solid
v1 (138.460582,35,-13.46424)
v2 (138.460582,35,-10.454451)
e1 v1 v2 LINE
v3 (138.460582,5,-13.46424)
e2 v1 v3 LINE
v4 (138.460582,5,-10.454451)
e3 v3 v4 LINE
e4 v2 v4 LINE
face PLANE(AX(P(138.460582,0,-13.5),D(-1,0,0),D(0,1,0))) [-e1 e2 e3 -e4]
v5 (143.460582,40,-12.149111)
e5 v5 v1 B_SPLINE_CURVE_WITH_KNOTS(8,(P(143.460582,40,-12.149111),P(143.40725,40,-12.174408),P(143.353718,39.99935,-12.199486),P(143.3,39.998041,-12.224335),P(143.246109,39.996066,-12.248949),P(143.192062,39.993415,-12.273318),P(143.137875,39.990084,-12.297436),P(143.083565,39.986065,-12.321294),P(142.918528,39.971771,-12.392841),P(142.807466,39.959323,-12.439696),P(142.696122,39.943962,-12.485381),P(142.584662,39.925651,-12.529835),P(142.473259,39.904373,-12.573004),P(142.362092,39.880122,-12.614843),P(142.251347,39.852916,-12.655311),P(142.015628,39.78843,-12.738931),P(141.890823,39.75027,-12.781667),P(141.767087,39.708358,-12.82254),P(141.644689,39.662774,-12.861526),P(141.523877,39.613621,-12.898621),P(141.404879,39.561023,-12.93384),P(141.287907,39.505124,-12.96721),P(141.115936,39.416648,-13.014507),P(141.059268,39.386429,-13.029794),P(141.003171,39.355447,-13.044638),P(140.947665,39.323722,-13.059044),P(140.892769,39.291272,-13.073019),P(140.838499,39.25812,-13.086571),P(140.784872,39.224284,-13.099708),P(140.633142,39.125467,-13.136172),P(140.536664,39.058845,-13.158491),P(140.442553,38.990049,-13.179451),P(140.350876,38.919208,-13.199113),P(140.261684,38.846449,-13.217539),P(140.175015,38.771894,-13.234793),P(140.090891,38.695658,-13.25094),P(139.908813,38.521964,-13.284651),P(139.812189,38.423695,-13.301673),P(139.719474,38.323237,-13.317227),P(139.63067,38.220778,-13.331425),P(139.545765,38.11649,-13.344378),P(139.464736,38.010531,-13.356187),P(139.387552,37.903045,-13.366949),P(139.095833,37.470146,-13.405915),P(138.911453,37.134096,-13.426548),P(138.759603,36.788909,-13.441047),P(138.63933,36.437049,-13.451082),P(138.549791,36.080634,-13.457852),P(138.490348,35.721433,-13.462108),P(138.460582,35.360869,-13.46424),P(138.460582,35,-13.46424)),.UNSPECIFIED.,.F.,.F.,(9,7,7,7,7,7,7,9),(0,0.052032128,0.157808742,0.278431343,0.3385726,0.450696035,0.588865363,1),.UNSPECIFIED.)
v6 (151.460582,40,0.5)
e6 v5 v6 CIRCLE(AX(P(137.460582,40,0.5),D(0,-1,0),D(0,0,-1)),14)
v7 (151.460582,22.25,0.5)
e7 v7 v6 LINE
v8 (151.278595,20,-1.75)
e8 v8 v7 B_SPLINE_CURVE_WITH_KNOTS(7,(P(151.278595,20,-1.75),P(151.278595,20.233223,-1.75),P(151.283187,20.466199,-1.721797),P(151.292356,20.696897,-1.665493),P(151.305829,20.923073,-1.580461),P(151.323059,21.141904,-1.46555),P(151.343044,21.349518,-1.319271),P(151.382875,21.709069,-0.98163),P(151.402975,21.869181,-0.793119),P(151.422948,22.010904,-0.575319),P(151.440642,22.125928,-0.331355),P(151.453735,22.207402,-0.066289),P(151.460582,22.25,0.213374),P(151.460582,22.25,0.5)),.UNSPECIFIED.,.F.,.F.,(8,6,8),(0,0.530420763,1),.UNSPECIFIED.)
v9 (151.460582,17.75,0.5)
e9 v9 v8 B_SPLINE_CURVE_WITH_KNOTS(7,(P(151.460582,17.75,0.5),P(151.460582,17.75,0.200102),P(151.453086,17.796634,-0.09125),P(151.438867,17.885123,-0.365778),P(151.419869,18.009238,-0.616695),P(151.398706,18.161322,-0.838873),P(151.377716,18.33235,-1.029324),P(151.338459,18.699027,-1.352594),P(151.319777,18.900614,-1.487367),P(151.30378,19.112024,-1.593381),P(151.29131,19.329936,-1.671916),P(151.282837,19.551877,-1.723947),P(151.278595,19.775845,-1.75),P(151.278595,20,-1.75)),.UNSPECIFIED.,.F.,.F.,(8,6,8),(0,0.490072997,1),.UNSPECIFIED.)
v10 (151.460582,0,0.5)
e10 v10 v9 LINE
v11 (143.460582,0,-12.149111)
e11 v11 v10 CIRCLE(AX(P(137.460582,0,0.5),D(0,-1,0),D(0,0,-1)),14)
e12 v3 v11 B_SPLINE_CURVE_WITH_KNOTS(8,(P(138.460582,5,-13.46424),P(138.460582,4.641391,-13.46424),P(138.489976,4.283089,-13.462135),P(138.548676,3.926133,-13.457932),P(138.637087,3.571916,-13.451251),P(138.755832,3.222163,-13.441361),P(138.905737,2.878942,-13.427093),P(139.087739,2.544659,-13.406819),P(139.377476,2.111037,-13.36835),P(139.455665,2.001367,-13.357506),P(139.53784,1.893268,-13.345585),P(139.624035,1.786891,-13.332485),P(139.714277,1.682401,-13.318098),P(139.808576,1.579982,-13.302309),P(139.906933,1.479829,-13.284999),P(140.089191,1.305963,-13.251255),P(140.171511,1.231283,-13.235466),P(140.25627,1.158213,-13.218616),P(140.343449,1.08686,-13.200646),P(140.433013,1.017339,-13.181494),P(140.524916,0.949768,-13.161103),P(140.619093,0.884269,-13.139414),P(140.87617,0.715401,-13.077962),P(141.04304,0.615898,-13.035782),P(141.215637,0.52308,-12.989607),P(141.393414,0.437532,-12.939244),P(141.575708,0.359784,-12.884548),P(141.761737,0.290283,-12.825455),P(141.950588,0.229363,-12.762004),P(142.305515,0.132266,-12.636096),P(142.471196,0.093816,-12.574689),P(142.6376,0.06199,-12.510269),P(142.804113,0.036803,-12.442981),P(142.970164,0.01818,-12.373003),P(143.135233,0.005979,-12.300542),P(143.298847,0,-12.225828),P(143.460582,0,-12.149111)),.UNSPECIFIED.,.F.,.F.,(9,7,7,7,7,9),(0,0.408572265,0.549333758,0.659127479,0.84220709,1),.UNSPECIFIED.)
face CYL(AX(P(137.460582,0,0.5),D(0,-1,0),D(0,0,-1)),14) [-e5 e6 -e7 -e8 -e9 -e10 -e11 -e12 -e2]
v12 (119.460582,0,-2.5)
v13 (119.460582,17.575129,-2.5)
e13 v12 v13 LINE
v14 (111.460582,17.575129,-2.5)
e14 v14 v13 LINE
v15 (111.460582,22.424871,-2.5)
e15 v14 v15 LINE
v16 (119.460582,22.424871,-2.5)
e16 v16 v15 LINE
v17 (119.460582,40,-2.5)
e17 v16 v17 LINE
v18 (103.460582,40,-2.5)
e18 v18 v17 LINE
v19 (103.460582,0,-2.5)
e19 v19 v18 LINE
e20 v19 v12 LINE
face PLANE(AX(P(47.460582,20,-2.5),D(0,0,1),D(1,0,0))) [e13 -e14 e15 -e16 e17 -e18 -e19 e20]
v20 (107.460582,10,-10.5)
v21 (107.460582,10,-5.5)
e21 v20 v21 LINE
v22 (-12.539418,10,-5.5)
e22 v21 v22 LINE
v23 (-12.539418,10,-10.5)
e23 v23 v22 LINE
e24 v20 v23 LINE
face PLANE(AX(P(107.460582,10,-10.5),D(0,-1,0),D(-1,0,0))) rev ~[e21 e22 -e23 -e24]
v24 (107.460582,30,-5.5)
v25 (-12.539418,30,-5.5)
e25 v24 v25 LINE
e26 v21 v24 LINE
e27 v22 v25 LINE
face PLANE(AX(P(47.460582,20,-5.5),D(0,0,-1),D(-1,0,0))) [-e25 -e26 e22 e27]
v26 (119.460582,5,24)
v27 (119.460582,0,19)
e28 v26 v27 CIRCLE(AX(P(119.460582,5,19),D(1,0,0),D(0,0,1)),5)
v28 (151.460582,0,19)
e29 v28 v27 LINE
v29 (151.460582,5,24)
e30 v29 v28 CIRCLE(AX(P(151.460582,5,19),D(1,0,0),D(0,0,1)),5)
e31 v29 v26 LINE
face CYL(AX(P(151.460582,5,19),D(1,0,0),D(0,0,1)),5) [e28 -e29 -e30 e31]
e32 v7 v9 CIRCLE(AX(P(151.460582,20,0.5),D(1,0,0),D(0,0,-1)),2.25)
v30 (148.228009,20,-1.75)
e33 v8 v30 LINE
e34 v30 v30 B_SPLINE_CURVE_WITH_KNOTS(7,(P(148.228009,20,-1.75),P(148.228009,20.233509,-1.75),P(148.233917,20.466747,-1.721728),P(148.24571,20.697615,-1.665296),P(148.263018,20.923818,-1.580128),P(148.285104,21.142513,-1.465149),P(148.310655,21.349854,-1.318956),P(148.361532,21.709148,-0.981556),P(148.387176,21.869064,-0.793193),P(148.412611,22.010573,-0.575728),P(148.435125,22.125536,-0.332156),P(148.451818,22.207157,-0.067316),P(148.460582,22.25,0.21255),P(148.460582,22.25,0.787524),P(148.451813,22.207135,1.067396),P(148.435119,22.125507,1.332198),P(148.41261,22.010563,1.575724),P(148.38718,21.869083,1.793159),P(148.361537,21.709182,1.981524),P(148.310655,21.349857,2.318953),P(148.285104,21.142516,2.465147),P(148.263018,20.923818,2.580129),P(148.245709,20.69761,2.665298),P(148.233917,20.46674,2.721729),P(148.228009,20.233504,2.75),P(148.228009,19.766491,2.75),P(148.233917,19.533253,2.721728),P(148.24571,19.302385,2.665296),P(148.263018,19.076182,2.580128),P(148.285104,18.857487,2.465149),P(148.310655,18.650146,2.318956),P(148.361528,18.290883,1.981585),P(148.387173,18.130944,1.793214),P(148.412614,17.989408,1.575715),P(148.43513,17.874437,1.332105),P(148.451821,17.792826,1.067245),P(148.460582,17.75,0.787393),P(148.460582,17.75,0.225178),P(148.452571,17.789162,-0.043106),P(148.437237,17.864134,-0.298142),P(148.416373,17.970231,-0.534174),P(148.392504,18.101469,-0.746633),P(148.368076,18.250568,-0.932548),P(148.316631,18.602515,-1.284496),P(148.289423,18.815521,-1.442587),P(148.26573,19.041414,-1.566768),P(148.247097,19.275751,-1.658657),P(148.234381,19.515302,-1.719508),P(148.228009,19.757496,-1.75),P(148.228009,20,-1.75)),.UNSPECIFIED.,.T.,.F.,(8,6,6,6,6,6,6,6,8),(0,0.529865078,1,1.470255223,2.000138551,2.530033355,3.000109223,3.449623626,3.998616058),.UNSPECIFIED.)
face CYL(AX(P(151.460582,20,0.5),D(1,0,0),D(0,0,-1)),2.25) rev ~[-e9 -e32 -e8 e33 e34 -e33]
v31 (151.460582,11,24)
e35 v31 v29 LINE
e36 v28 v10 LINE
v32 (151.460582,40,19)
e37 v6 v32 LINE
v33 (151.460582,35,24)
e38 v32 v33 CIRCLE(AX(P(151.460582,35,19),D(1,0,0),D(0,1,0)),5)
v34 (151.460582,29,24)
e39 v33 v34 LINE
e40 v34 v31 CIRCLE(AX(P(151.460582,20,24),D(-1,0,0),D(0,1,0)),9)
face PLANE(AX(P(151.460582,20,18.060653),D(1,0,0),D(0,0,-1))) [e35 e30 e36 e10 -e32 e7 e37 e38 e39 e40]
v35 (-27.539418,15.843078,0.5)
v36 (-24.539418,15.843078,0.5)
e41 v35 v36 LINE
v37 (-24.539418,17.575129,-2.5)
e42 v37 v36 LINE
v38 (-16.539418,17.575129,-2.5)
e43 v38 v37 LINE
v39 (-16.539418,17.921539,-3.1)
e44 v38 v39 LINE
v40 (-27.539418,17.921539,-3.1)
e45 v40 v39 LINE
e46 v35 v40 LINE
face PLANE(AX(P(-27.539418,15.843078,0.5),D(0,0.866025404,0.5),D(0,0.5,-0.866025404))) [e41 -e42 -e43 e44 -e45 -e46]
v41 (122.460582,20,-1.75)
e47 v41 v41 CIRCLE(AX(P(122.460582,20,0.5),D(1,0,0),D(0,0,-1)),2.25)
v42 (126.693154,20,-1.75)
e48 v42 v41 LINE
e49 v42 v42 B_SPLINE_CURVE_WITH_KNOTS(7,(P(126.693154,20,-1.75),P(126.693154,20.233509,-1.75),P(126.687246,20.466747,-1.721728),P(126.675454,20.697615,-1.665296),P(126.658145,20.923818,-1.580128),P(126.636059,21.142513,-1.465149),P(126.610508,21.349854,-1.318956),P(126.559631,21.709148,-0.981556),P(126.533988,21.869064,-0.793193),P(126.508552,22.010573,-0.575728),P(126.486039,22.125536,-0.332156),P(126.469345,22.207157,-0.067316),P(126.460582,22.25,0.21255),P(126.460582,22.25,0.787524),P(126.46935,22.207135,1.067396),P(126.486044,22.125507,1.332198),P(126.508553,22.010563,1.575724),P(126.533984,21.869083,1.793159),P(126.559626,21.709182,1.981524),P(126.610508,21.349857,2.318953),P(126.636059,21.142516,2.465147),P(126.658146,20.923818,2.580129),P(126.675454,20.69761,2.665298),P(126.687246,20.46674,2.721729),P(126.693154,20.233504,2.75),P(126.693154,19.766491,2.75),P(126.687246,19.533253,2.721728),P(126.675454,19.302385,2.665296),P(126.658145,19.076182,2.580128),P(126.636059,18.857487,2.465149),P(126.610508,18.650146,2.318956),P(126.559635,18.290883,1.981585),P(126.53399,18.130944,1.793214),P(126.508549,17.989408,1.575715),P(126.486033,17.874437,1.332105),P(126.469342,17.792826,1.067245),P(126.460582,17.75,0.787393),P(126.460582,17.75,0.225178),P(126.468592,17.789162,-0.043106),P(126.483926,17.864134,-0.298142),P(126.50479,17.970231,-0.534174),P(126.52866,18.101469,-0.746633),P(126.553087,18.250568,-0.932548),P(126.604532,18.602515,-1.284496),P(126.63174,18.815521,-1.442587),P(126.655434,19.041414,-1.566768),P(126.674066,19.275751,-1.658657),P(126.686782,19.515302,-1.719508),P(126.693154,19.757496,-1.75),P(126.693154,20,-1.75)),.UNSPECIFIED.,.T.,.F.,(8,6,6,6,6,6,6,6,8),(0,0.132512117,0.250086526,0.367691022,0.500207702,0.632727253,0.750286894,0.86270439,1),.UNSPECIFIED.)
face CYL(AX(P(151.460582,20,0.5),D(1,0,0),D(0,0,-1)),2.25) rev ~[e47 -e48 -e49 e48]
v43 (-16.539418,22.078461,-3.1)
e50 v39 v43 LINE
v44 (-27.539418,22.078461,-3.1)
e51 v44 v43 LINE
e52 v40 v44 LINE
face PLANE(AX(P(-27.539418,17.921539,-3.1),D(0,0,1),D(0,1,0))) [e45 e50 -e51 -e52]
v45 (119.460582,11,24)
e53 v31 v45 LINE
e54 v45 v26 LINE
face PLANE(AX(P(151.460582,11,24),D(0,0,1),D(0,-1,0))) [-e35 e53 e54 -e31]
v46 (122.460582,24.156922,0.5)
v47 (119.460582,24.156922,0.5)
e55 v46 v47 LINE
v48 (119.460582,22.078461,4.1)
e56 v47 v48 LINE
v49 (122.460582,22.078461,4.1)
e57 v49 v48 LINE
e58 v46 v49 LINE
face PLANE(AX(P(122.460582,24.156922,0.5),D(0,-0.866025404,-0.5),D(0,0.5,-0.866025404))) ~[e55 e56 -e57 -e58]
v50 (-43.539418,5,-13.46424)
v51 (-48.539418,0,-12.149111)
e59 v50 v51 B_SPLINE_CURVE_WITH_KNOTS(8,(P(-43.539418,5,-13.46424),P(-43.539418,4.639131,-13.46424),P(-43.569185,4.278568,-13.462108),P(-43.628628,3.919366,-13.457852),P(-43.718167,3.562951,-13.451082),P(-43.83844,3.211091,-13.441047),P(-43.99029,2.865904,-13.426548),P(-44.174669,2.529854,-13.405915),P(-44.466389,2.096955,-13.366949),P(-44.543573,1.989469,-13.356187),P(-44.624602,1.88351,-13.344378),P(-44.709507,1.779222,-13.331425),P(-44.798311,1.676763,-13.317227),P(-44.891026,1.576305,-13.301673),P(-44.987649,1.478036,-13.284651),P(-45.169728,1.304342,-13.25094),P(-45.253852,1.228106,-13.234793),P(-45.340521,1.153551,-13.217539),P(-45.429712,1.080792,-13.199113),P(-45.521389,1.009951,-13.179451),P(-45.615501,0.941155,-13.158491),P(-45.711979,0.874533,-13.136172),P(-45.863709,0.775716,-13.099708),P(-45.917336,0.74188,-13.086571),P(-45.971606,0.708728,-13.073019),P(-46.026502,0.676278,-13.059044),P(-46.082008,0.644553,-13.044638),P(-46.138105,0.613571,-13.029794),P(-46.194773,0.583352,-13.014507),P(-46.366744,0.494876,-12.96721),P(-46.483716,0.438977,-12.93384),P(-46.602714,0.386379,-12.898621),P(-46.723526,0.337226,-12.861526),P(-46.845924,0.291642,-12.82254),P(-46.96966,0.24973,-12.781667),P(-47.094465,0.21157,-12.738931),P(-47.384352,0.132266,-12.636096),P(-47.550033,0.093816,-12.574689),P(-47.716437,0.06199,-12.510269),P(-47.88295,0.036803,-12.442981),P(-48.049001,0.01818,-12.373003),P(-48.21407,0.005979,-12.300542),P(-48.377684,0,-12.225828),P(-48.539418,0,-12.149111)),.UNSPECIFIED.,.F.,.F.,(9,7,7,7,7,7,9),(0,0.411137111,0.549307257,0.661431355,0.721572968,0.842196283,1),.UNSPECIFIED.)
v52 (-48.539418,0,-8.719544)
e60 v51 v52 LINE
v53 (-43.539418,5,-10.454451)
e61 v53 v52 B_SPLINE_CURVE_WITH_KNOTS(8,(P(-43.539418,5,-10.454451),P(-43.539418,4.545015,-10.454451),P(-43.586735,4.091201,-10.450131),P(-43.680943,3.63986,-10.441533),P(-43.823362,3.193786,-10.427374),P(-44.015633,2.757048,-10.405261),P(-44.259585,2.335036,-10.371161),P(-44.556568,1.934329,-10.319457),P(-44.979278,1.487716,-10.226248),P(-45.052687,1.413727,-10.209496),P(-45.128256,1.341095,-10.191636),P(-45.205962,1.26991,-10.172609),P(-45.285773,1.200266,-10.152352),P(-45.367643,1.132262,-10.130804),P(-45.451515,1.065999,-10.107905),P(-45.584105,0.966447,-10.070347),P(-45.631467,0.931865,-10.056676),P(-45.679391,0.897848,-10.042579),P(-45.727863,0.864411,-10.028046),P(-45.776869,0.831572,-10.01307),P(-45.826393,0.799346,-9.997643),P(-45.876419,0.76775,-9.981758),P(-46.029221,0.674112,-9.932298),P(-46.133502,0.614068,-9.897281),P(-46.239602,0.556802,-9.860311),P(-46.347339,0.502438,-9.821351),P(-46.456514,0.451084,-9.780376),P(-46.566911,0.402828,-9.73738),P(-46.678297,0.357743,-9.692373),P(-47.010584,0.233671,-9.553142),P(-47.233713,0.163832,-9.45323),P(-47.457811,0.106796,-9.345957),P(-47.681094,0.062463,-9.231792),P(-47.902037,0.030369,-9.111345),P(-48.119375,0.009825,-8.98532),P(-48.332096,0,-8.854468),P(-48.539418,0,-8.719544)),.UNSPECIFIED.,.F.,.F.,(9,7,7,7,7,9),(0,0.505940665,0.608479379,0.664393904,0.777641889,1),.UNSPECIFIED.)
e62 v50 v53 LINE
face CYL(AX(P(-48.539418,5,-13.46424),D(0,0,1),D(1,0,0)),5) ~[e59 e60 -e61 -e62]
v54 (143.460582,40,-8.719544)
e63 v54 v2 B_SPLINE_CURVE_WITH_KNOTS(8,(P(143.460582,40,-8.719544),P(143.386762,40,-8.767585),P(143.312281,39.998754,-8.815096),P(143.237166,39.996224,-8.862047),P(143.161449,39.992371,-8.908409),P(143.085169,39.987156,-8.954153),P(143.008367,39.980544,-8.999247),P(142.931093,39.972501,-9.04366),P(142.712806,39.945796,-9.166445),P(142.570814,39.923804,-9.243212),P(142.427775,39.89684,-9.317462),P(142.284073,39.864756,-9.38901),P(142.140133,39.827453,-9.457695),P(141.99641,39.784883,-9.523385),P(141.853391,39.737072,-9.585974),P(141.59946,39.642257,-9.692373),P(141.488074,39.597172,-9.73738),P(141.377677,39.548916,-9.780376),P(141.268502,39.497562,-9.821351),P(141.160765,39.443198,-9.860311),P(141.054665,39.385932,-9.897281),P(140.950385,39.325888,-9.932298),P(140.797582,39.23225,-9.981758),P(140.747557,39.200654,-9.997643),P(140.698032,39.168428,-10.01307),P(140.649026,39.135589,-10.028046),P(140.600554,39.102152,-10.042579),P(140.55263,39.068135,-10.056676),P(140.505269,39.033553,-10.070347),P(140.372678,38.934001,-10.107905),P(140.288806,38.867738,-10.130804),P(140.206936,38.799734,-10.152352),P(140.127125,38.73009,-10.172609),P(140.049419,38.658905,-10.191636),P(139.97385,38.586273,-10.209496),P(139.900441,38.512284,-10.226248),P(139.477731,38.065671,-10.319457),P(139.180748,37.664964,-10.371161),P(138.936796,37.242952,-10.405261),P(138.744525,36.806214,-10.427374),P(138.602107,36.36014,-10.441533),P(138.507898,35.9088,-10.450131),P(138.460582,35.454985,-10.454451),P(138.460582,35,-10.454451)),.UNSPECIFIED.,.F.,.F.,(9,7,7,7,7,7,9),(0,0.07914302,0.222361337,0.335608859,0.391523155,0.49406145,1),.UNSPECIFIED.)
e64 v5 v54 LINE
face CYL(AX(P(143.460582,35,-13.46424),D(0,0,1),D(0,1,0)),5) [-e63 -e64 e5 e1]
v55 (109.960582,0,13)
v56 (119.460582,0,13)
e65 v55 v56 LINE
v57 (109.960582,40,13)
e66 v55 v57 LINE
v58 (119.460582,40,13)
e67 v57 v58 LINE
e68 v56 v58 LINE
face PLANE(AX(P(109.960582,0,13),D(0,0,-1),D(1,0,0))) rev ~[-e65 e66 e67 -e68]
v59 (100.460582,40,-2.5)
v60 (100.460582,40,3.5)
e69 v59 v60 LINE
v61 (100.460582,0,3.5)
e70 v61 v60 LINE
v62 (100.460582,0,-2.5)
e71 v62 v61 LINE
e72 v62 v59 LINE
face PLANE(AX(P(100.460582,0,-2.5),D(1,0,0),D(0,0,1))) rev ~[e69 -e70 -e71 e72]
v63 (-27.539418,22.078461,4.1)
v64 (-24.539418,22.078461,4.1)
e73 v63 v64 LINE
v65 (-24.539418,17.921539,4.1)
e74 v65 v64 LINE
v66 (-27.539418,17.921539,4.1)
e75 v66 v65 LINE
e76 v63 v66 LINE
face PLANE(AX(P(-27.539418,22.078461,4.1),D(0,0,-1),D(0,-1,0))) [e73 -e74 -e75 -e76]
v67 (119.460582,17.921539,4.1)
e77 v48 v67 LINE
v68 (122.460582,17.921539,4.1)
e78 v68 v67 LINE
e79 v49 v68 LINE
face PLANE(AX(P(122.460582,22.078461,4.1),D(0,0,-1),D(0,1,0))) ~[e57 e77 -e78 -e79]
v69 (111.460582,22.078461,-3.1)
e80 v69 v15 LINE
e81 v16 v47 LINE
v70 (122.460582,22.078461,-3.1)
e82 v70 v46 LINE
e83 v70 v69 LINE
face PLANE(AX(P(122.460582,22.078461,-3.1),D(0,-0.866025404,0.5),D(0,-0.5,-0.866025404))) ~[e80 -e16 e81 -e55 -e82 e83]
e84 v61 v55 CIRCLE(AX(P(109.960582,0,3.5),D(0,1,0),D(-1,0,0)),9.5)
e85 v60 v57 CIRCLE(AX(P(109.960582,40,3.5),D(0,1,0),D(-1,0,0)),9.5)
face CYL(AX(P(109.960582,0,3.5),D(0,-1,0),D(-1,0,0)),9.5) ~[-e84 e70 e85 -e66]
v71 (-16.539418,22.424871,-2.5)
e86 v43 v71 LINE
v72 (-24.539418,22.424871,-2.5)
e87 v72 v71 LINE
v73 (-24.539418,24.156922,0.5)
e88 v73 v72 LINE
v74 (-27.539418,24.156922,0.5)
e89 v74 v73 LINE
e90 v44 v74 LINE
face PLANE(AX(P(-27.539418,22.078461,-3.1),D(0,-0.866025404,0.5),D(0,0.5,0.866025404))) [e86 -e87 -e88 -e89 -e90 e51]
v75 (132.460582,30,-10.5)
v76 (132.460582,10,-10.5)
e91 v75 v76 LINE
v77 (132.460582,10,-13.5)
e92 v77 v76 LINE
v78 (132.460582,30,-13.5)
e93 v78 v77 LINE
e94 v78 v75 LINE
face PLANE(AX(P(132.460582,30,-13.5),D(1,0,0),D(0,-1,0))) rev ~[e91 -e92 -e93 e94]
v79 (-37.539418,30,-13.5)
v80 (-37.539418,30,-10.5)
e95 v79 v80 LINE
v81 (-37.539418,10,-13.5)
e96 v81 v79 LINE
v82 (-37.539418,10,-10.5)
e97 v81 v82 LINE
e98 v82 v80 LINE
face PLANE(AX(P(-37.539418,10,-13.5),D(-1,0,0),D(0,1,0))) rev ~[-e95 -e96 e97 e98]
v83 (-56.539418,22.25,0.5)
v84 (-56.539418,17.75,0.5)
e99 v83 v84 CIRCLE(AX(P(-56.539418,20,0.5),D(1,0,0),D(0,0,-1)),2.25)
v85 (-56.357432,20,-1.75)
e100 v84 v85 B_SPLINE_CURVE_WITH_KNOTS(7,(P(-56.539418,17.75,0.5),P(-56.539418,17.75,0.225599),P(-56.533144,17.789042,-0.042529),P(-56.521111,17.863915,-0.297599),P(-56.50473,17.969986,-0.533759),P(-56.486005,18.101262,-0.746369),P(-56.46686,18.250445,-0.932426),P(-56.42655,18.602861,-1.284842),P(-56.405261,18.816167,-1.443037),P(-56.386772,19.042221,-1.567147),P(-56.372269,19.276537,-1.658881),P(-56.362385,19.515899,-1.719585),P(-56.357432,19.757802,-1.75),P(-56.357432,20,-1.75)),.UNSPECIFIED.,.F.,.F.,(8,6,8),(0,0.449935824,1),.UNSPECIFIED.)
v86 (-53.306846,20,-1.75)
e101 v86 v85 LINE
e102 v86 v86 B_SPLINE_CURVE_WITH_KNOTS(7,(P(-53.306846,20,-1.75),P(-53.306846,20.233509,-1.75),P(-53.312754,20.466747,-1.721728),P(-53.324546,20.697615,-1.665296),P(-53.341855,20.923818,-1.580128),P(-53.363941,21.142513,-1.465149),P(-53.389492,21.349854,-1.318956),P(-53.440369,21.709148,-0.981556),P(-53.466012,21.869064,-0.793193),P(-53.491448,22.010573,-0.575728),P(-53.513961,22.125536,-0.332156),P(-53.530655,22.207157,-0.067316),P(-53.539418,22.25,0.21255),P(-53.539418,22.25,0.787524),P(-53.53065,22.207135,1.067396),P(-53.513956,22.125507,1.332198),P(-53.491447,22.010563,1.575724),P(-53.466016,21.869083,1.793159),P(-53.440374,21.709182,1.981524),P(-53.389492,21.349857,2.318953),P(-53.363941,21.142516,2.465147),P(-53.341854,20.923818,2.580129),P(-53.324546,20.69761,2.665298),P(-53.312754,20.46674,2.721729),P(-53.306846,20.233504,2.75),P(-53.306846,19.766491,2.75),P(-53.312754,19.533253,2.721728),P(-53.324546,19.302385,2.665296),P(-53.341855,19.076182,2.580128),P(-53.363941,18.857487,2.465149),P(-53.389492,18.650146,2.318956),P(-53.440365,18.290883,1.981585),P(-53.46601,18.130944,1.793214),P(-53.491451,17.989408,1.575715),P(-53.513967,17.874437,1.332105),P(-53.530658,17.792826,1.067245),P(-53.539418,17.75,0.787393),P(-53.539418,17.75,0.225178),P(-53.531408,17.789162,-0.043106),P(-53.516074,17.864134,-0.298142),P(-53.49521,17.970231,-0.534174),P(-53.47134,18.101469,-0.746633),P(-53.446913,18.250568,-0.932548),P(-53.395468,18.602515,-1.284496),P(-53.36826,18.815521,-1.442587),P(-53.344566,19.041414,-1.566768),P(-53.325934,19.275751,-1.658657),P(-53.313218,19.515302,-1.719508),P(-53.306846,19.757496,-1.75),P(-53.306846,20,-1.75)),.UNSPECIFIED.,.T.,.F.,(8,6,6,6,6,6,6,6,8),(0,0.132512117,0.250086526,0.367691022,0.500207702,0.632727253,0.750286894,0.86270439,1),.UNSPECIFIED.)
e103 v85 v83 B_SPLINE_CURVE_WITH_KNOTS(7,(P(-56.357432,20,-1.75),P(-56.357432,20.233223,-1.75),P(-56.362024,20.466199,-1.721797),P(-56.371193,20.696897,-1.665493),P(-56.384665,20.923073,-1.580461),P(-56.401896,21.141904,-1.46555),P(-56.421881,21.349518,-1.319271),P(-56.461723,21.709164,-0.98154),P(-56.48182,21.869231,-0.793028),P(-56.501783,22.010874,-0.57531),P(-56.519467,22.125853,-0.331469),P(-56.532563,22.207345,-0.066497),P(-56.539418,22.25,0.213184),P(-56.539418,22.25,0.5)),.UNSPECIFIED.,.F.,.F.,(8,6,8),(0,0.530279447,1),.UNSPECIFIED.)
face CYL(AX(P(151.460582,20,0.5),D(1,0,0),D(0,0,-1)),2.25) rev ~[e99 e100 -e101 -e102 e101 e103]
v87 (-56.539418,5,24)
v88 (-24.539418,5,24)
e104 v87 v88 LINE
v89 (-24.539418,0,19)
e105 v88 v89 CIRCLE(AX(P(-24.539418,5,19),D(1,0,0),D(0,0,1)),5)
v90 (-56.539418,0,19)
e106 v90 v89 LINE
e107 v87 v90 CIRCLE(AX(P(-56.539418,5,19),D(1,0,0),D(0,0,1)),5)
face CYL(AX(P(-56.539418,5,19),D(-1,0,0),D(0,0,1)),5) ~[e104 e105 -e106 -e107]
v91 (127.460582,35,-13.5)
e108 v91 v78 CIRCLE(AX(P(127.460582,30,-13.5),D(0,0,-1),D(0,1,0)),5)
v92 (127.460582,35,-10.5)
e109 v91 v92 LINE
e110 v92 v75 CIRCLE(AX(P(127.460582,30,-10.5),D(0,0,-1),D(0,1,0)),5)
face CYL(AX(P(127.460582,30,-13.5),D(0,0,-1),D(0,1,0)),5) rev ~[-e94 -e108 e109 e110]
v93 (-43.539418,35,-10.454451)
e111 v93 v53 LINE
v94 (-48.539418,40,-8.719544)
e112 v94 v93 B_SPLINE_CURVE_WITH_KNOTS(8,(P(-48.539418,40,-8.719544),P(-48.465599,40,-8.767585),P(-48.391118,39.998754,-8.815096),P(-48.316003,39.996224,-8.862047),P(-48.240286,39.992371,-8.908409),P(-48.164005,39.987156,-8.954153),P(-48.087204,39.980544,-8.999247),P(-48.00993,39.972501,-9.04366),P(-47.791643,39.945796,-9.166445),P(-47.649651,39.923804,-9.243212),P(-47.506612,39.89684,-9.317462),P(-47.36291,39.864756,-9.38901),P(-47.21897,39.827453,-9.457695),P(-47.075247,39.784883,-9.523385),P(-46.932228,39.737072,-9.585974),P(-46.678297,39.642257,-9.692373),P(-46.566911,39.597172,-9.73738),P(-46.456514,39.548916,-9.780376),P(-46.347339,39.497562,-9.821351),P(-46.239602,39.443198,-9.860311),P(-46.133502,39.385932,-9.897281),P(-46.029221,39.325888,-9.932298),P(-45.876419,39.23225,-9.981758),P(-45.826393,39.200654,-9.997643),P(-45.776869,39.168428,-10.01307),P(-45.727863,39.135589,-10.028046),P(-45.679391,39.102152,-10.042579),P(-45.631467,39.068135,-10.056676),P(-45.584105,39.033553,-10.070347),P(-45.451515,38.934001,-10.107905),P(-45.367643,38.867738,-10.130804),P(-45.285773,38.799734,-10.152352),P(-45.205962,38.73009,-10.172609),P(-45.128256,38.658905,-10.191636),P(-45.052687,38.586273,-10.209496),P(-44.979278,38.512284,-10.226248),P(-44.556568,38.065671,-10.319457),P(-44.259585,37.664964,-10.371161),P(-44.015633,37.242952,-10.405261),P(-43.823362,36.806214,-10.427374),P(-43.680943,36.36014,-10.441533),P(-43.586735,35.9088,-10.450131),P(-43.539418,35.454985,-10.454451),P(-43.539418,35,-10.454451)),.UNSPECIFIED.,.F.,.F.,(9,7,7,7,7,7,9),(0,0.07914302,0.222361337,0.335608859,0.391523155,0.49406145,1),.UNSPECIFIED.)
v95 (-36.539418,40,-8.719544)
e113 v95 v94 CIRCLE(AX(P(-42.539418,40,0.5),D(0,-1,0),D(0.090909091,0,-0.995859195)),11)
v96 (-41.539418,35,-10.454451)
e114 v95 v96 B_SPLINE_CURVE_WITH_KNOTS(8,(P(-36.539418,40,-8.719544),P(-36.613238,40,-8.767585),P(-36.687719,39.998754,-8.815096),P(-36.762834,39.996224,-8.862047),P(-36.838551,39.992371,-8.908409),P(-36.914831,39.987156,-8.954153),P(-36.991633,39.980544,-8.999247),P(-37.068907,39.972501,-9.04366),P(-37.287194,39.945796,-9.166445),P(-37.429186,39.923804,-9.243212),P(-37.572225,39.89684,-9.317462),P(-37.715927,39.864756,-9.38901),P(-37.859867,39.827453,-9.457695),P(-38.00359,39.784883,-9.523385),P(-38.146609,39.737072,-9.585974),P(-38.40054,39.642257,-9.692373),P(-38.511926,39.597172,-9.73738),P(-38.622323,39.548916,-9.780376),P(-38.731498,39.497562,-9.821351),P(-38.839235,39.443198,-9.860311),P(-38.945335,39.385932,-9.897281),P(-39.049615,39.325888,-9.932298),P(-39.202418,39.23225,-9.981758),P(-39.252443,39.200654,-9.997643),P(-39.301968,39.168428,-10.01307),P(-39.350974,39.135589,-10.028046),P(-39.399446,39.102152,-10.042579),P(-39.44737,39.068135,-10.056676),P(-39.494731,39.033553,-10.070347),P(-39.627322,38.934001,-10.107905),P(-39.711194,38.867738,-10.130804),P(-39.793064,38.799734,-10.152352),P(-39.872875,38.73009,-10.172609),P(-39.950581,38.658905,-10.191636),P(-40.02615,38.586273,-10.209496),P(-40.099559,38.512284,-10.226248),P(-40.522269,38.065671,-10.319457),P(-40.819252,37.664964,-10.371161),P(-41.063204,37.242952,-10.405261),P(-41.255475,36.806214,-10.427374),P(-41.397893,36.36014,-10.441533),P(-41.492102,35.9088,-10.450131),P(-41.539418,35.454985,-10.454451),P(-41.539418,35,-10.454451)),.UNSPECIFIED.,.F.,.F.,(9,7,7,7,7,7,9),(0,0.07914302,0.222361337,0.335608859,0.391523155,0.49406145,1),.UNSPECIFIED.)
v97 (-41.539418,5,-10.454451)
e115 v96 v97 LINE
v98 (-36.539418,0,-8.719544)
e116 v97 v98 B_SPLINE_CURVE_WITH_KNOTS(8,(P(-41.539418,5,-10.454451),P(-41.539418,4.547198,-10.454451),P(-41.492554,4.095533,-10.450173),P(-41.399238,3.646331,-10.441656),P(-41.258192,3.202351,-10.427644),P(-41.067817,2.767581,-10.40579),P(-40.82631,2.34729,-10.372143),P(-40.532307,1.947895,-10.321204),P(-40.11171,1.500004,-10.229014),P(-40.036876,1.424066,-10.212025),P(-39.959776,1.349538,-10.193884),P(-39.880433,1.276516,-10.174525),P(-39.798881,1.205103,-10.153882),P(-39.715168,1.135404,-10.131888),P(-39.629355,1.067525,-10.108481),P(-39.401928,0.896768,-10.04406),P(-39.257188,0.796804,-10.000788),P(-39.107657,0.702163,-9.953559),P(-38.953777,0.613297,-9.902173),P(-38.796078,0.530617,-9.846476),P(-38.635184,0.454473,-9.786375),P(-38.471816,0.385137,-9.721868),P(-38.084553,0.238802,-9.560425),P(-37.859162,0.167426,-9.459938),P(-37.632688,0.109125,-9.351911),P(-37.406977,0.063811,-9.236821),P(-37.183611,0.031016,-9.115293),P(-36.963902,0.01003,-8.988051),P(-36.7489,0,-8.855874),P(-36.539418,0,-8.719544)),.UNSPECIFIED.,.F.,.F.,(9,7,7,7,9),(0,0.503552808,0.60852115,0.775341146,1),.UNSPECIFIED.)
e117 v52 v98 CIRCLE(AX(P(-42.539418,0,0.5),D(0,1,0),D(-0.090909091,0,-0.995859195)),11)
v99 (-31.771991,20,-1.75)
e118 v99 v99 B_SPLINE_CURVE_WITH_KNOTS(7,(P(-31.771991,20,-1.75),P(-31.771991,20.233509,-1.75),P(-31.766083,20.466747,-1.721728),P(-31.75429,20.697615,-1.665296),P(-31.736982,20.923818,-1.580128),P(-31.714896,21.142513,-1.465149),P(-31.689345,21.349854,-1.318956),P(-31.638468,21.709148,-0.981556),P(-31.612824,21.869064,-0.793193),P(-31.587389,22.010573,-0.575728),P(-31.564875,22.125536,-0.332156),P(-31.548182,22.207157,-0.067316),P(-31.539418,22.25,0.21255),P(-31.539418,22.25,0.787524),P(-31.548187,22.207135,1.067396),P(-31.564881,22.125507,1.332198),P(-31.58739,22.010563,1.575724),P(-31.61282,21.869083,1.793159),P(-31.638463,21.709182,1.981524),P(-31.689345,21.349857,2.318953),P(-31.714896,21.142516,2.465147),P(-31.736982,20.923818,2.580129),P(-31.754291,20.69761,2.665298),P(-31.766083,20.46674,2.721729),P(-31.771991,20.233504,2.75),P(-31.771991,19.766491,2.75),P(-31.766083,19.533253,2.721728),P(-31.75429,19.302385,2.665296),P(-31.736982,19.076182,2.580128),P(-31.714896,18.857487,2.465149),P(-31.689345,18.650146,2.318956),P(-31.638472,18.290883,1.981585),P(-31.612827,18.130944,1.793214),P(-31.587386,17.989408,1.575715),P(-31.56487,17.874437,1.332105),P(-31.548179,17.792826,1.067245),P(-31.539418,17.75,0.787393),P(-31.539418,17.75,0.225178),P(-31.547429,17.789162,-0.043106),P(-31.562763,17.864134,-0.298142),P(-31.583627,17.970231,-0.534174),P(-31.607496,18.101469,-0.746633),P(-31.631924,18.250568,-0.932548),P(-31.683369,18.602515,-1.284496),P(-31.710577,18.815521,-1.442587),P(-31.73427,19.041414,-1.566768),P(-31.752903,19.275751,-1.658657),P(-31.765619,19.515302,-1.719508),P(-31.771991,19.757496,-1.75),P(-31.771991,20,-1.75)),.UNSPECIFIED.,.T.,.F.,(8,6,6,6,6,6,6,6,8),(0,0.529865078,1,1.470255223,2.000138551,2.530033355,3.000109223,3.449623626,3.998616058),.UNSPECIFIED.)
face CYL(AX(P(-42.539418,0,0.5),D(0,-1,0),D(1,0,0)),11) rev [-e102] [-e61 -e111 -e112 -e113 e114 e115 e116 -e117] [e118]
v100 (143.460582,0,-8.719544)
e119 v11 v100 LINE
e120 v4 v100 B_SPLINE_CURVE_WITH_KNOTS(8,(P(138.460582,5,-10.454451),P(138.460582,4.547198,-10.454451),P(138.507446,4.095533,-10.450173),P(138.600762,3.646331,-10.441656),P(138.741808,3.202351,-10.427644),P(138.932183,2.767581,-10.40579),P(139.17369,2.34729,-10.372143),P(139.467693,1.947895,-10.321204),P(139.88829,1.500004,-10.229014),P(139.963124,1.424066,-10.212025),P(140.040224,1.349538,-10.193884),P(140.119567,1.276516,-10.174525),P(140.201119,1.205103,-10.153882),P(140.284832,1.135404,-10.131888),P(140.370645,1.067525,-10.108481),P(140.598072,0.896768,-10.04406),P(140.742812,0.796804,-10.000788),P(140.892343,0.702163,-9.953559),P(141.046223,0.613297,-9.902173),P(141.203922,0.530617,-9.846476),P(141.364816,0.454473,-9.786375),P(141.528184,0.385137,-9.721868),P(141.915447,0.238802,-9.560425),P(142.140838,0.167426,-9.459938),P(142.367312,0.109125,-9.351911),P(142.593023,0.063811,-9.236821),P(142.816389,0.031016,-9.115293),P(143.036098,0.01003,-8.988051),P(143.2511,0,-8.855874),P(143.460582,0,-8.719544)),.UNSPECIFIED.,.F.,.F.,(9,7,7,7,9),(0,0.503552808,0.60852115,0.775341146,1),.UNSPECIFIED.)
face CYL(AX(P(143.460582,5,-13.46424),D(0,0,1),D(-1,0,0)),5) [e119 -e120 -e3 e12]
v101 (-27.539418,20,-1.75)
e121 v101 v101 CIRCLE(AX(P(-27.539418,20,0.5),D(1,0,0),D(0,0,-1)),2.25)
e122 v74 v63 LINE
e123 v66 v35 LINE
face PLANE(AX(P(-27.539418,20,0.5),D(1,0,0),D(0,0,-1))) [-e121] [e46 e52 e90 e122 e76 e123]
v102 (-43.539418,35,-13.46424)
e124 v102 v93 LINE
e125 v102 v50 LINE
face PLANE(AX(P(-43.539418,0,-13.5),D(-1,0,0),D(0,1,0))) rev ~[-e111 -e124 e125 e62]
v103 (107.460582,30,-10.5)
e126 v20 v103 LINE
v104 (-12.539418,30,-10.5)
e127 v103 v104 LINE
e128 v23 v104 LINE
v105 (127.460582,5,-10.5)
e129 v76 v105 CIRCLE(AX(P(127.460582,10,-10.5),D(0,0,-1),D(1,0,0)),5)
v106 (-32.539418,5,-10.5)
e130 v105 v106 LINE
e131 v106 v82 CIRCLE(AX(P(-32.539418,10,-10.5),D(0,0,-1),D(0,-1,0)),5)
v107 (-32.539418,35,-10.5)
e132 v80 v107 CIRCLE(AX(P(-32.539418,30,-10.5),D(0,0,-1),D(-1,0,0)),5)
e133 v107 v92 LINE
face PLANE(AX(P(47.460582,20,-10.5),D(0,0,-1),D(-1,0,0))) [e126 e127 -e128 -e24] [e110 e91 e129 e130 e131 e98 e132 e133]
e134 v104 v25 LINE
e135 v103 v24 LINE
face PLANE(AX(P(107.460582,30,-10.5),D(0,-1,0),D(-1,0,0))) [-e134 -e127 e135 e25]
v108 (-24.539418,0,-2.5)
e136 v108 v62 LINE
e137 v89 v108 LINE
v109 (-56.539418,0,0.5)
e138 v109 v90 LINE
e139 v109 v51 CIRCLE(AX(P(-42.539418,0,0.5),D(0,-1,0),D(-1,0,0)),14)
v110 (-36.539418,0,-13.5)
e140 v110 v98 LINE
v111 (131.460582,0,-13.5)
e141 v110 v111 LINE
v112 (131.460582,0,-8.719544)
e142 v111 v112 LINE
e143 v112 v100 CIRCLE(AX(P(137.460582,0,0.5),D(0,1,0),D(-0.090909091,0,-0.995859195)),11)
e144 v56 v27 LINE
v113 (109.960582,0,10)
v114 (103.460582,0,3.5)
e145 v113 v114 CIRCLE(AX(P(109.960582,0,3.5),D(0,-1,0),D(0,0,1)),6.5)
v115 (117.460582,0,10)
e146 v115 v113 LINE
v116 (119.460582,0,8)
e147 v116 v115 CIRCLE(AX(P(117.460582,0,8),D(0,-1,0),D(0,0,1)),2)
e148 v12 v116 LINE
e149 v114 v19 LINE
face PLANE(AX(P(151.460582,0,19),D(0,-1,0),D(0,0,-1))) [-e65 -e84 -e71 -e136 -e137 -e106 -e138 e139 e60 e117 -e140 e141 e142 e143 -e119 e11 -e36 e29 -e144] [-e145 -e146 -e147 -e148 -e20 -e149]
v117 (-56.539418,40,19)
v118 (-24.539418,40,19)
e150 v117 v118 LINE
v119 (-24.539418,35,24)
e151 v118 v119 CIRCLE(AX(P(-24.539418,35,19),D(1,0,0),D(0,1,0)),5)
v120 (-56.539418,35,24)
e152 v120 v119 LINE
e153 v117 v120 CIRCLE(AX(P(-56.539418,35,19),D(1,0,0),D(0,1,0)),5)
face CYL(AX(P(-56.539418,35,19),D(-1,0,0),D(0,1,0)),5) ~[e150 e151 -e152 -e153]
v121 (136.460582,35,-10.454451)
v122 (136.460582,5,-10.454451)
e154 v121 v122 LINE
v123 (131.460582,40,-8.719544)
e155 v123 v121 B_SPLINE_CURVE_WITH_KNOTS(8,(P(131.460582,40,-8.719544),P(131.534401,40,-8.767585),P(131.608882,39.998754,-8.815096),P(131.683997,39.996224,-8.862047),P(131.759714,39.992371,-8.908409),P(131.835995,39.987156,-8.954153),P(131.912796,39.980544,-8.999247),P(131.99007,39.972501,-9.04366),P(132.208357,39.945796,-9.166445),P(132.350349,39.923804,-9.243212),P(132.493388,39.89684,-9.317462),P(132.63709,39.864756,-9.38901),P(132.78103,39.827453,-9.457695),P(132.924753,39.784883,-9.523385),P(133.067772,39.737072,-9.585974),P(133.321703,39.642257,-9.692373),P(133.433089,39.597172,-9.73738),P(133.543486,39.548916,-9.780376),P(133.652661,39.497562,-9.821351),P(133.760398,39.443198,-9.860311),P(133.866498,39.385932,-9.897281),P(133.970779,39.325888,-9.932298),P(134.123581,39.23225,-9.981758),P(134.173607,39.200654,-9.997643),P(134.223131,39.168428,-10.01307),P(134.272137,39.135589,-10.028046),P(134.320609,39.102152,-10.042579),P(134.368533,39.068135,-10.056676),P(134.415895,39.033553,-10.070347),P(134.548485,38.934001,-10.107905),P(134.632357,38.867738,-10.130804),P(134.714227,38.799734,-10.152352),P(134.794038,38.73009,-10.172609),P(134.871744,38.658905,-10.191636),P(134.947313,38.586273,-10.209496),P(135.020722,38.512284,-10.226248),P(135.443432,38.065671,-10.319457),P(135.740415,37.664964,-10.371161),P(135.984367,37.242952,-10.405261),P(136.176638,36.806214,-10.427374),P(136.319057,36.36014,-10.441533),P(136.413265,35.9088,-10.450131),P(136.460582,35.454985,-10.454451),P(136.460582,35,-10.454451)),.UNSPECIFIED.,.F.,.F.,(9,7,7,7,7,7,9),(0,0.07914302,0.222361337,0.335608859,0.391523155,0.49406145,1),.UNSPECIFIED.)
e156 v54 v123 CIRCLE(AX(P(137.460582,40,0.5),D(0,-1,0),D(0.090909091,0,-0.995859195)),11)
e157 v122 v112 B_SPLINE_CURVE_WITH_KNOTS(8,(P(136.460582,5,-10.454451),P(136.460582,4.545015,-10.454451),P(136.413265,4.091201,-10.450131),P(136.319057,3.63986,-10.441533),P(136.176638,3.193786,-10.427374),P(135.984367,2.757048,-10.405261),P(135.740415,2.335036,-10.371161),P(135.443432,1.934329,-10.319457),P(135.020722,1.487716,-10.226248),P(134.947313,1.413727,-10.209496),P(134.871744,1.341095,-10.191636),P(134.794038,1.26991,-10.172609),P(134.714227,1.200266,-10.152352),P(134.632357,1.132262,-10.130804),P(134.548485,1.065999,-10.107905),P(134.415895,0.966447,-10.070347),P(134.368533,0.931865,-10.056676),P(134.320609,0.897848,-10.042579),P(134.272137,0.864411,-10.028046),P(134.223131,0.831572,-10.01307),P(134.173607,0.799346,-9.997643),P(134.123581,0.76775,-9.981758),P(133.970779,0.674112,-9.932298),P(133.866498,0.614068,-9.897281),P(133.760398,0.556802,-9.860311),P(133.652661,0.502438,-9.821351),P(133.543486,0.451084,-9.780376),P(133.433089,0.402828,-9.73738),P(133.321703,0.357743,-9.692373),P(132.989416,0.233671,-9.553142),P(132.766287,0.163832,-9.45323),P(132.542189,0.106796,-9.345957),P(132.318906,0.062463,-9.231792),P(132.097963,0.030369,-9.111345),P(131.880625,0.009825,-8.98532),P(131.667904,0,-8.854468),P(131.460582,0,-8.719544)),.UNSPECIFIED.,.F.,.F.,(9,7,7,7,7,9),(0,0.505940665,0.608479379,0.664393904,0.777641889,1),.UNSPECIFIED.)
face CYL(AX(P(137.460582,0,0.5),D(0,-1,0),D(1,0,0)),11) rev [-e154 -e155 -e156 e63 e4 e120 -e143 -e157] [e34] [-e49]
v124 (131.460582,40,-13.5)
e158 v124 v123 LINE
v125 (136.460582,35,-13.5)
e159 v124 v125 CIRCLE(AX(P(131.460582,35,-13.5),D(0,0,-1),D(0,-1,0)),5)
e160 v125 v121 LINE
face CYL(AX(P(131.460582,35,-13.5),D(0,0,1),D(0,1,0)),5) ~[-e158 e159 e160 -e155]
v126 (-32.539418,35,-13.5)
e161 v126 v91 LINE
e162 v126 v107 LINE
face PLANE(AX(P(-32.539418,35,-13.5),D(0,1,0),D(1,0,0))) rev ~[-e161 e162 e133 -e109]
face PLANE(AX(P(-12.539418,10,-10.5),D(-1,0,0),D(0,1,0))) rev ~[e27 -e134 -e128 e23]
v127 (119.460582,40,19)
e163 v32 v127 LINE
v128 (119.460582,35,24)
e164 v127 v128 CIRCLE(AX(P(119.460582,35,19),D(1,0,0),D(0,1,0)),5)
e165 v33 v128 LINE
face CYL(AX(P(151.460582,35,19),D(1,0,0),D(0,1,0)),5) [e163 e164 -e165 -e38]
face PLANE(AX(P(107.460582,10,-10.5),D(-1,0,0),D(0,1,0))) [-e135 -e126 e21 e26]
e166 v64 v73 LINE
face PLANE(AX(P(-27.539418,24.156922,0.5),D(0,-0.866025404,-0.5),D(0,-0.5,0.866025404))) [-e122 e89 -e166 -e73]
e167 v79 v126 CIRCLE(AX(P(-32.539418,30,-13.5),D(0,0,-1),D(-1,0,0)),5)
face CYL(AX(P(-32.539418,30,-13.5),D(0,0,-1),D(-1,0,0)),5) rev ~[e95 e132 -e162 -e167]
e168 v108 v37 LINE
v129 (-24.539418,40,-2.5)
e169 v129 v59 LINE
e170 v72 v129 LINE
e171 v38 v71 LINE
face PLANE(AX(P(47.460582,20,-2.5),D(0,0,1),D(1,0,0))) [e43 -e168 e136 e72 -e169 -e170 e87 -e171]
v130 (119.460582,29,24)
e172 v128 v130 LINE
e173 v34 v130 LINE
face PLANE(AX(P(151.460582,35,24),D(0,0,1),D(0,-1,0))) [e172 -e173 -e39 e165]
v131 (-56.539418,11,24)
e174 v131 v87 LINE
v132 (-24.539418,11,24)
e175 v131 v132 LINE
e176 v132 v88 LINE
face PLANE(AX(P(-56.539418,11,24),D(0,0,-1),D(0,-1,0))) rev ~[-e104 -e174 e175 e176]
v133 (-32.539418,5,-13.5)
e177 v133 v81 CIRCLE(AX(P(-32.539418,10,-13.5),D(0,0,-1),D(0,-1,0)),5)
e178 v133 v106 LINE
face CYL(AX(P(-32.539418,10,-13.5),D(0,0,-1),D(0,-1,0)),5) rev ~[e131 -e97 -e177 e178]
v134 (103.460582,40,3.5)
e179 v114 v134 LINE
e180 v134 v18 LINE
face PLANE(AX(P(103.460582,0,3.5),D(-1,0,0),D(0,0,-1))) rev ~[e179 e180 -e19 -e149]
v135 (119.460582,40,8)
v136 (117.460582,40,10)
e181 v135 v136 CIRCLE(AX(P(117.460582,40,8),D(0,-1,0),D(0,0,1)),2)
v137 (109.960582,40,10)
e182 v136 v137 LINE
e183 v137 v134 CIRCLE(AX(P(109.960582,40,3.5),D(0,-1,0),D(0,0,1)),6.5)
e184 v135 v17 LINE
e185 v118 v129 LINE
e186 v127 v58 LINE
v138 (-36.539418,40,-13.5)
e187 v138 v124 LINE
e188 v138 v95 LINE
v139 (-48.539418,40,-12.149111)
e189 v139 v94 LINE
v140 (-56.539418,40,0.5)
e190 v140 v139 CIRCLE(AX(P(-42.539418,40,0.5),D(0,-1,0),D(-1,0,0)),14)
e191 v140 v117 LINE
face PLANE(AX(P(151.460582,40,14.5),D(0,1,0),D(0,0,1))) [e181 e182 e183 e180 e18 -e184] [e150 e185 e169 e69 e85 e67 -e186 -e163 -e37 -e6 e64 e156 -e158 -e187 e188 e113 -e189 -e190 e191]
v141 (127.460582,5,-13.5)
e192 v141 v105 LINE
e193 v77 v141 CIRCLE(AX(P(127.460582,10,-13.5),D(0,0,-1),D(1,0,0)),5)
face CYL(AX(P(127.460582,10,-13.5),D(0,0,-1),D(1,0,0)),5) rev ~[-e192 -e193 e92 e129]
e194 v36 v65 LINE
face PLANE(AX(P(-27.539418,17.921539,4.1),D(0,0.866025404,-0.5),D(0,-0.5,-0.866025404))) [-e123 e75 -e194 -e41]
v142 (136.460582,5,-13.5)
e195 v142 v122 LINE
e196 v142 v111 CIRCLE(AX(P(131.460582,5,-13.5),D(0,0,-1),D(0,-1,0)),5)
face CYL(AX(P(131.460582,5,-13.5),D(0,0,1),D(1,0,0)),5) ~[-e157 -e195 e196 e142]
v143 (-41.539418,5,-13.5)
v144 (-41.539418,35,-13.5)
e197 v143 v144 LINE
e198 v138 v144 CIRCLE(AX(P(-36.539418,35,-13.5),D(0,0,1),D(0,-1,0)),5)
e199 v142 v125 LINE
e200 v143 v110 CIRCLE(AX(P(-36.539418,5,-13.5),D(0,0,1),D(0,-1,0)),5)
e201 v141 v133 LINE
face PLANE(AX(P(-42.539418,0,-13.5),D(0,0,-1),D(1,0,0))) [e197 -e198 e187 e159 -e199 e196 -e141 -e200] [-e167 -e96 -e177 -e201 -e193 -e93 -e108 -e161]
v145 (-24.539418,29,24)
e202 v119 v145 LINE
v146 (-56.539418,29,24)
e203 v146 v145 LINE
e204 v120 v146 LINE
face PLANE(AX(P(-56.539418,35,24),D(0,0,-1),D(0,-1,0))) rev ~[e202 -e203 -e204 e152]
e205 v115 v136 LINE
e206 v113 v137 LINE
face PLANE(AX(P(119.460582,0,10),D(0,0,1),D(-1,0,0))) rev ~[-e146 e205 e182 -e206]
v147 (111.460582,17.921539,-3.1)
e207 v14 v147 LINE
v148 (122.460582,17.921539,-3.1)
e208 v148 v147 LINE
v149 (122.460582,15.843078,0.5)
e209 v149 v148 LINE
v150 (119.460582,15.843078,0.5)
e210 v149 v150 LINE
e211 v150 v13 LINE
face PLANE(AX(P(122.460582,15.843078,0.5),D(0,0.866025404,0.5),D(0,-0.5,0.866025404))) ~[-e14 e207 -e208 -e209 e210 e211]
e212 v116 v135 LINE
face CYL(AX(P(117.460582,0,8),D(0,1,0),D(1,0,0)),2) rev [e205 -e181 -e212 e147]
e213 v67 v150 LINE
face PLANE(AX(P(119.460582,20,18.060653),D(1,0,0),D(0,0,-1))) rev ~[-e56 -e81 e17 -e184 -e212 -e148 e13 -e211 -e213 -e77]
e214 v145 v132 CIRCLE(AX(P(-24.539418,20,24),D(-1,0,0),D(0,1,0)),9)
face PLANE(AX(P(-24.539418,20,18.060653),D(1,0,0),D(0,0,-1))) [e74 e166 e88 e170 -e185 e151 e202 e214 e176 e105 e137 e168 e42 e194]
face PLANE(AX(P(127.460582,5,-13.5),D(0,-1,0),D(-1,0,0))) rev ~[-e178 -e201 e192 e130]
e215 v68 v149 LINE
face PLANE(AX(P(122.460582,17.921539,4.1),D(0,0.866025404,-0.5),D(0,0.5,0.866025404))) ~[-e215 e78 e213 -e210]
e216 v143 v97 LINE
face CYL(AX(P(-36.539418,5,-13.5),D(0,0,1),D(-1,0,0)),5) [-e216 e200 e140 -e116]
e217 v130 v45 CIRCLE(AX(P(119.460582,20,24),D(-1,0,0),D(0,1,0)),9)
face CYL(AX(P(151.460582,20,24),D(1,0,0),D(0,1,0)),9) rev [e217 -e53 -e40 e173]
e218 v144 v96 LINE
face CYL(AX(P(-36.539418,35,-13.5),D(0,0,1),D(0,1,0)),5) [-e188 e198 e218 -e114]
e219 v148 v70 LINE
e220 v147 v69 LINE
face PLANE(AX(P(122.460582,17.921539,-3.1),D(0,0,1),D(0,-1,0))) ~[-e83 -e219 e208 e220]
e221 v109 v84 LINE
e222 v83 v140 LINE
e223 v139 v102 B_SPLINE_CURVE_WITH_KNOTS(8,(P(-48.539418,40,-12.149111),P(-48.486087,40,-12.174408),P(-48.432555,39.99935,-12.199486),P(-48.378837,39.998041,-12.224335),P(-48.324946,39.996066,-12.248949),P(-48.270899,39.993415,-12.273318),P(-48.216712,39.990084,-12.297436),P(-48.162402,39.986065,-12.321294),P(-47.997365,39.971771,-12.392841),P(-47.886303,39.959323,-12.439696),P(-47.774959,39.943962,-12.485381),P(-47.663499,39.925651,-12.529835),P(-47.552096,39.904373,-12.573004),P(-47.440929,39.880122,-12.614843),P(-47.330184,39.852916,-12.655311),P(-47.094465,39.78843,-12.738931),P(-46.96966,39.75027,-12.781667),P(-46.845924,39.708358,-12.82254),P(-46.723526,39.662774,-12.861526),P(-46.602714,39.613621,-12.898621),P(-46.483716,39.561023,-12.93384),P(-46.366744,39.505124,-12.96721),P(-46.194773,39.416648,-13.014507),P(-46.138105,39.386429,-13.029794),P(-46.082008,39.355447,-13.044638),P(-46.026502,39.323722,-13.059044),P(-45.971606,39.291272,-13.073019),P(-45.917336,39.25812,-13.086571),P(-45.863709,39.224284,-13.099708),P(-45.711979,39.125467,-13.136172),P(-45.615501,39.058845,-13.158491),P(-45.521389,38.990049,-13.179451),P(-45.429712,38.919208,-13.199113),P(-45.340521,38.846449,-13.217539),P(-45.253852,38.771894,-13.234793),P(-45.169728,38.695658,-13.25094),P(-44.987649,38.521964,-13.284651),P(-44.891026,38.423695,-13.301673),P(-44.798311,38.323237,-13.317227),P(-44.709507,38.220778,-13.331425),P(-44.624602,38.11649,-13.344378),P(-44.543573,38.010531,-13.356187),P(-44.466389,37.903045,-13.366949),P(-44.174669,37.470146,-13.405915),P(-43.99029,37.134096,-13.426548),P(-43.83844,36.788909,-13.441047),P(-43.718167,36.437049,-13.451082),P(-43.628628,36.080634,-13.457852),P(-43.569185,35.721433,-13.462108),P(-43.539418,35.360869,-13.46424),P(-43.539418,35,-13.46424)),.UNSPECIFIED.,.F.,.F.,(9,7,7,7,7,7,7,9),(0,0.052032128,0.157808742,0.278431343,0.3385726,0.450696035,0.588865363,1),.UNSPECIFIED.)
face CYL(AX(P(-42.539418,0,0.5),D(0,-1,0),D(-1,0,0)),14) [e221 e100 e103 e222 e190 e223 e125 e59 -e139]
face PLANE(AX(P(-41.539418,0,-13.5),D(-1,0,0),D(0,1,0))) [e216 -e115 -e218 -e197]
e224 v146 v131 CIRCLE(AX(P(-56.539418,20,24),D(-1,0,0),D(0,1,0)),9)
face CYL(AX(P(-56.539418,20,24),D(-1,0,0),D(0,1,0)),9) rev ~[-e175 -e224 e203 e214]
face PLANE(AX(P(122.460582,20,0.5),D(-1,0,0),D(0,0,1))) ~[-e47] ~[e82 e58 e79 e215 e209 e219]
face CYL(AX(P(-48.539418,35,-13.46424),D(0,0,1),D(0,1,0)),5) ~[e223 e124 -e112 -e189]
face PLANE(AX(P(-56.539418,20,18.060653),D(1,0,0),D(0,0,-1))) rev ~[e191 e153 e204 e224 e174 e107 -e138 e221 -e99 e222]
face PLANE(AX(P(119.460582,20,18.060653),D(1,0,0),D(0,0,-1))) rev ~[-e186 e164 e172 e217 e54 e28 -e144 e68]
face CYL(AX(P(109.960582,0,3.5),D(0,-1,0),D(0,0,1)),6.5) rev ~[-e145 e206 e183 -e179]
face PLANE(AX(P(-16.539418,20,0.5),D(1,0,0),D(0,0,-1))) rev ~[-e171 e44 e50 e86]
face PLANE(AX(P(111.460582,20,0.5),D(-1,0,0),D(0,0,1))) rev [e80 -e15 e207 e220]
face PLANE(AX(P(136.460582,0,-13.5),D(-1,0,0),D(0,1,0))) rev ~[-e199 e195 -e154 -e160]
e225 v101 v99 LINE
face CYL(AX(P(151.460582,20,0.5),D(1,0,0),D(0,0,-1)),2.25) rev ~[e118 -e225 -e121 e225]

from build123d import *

# Parameters (mm, degrees)
SKETCH1_R               = 11
BOSS_EXTRUDE1_DEPTH     = 40
BOSS_EXTRUDE2_DEPTH     = 32
SKETCH4_W               = 144
SKETCH4_H               = 40
BOSS_EXTRUDE4_DEPTH     = 5
BOSS_EXTRUDE5_DEPTH     = 32
CUT_EXTRUDE2_DEPTH      = 3
SKETCH6_W               = 120
SKETCH6_H               = 20
CUT_EXTRUDE3_DEPTH      = 5
SKETCH8_W               = 2
SKETCH8_H               = 40
CUT_EXTRUDE_THIN1_DEPTH = 18
FILLET2_R               = 5
SKETCH9_R               = 2.25
CUT_EXTRUDE4_DEPTH      = 226
CUT_EXTRUDE5_START      = -3
CUT_EXTRUDE5_DEPTH      = 11
BOSS_EXTRUDE6_DEPTH     = 40
FILLET3_R               = 2


with BuildPart() as part:
    # Sketch1 → Boss-Extrude1 (new body)
    with BuildSketch(Plane(origin=(0, 0, 0), x_dir=(1, 0, 0), z_dir=(0, 1, 0))):
        with BuildLine():
            Line((137.460581558, -14.5), (119.460581558, -14.5))
            Line((119.460581558, -14.5), (119.460581558, 7.5))
            Line((119.460581558, 7.5), (-24.539418442, 7.5))
            Line((-24.539418442, 7.5), (-24.539418442, -14.5))
            Line((-24.539418442, -14.5), (-42.539418442, -14.5))
            Line((-42.539418442, -14.5), (-56.539418442, -14.5))
            Line((-56.539418442, -14.5), (-56.539418442, -0.5))
            ThreePointArc((-56.539418442, -0.5), (-52.438913379, 9.399494937), (-42.539418442, 13.5))
            Line((-42.539418442, 13.5), (137.460581558, 13.5))
            ThreePointArc((137.460581558, 13.5), (147.360076494, 9.399494937), (151.460581558, -0.5))
            Line((151.460581558, -0.5), (151.460581558, -14.5))
            Line((151.460581558, -14.5), (137.460581558, -14.5))
        make_face()
        with Locations((-42.539418442, -0.5)):
            Circle(SKETCH1_R, mode=Mode.SUBTRACT)
        with Locations((137.460581558, -0.5)):
            Circle(SKETCH1_R, mode=Mode.SUBTRACT)
    extrude(amount=BOSS_EXTRUDE1_DEPTH)

    # Sketch2 → Boss-Extrude2 (add)
    with BuildSketch(Plane.ZY.offset(56.539418442)):
        with BuildLine():
            Line((14.5, 40), (19, 40))
            ThreePointArc((19, 40), (22.535533906, 38.535533906), (24, 35))
            Line((24, 35), (24, 29))
            ThreePointArc((24, 29), (15, 20), (24, 11))
            Line((24, 11), (24, 5))
            ThreePointArc((24, 5), (22.535533906, 1.464466094), (19, 0))
            Line((19, 0), (14.5, 0))
            Line((14.5, 0), (14.5, 40))
        make_face()
    extrude(amount=-BOSS_EXTRUDE2_DEPTH)

    # Sketch4 → Boss-Extrude4 (add)
    with BuildSketch(Plane.XY.offset(-7.5)):
        with Locations((47.460581558, 20)):
            Rectangle(SKETCH4_W, SKETCH4_H)
    extrude(amount=BOSS_EXTRUDE4_DEPTH)

    # Sketch3 → Boss-Extrude5 (add)
    with BuildSketch(Plane(origin=(151.460581558, 0, 0), x_dir=(0, 0, -1), z_dir=(1, 0, 0))):
        with BuildLine():
            Line((-24, 11), (-24, 5))
            ThreePointArc((-24, 5), (-22.535533906, 1.464466094), (-19, 0))
            Line((-19, 0), (-14.5, 0))
            Line((-14.5, 0), (-14.5, 40))
            Line((-14.5, 40), (-19, 40))
            ThreePointArc((-19, 40), (-22.535533906, 38.535533906), (-24, 35))
            Line((-24, 35), (-24, 29))
            ThreePointArc((-24, 29), (-15, 20), (-24, 11))
        make_face()
    extrude(amount=-BOSS_EXTRUDE5_DEPTH)

    # Sketch5 → Cut-Extrude2 (cut)
    with BuildSketch(Plane(origin=(0, 0, -13.5), x_dir=(-1, 0, 0), z_dir=(0, 0, -1))):
        with BuildLine():
            Line((32.539418442, 35), (-127.460581558, 35))
            ThreePointArc((-127.460581558, 35), (-130.996115464, 33.535533906), (-132.460581558, 30))
            Line((-132.460581558, 30), (-132.460581558, 10))
            ThreePointArc((-132.460581558, 10), (-130.996115464, 6.464466094), (-127.460581558, 5))
            Line((-127.460581558, 5), (32.539418442, 5))
            ThreePointArc((32.539418442, 5), (36.074952348, 6.464466094), (37.539418442, 10))
            Line((37.539418442, 10), (37.539418442, 30))
            ThreePointArc((37.539418442, 30), (36.074952348, 33.535533906), (32.539418442, 35))
        make_face()
    extrude(amount=-CUT_EXTRUDE2_DEPTH, mode=Mode.SUBTRACT)

    # Sketch6 → Cut-Extrude3 (cut)
    with BuildSketch(Plane(origin=(0, 0, -10.5), x_dir=(-1, 0, 0), z_dir=(0, 0, -1))):
        with Locations((-47.460581558, 20)):
            Rectangle(SKETCH6_W, SKETCH6_H)
    extrude(amount=-CUT_EXTRUDE3_DEPTH, mode=Mode.SUBTRACT)

    # Sketch8 → Cut-Extrude-Thin1 (cut)
    with BuildSketch(Plane(origin=(0, 0, -13.5), x_dir=(-1, 0, 0), z_dir=(0, 0, -1))):
        with Locations((-137.460581558, 20)):
            Rectangle(SKETCH8_W, SKETCH8_H)
        with Locations((42.539418442, 20)):
            Rectangle(SKETCH8_W, SKETCH8_H)
    extrude(amount=-CUT_EXTRUDE_THIN1_DEPTH, mode=Mode.SUBTRACT)

    # Fillet2
    fillet2_edges = [part.edges().sort_by_distance(p)[0] for p in [
        (138.460581558, 0, -11.959345597),
        (138.460581558, 40, -11.959345597),
        (136.460581558, 0, -11.977225575),
        (136.460581558, 40, -11.977225575),
        (-41.539418442, 40, -11.977225575),
        (-43.539418442, 40, -11.959345597),
        (-43.539418442, 0, -11.959345597),
        (-41.539418442, 0, -11.977225575),
    ]]
    fillet(fillet2_edges, radius=FILLET2_R)

    # Sketch9 → Cut-Extrude4 (cut)
    with BuildSketch(Plane(origin=(151.460581558, 0, 0), x_dir=(0, 0, -1), z_dir=(1, 0, 0))):
        with Locations((-0.5, 20)):
            Circle(SKETCH9_R)
    extrude(amount=-CUT_EXTRUDE4_DEPTH, mode=Mode.SUBTRACT)

    # Sketch10 → Cut-Extrude5 (cut)
    with BuildSketch(Plane(origin=(-24.539418442, 0, 0), x_dir=(0, 0, -1), z_dir=(1, 0, 0)).offset(CUT_EXTRUDE5_START)):
        Polygon((-0.5, 24.156921938), (-4.1, 22.078460969), (-4.1, 17.921539031), (-0.5, 15.843078062), (3.1, 17.921539031), (3.1, 22.078460969), align=None)
    cut_extrude5 = extrude(amount=CUT_EXTRUDE5_DEPTH, mode=Mode.SUBTRACT)

    # Mirror5: Cut-Extrude5 across plane
    add(cut_extrude5.mirror(Plane.ZY.offset(-47.460581558)), mode=Mode.SUBTRACT)

    # Sketch12 → Boss-Extrude6 (add)
    with BuildSketch(Plane(origin=(0, 0, 0), x_dir=(-1, 0, 0), z_dir=(0, -1, 0))):
        with BuildLine():
            Line((-103.460581558, -3.5), (-103.460581558, 2.5))
            Line((-103.460581558, 2.5), (-100.460581558, 2.5))
            Line((-100.460581558, 2.5), (-100.460581558, -3.5))
            ThreePointArc((-100.460581558, -3.5), (-103.243067136, -10.217514421), (-109.960581558, -13))
            Line((-109.960581558, -13), (-119.460581558, -13))
            Line((-119.460581558, -13), (-119.460581558, -10))
            Line((-119.460581558, -10), (-116.460581558, -10))
            Line((-116.460581558, -10), (-109.960581558, -10))
            ThreePointArc((-109.960581558, -10), (-105.36438748, -8.096194078), (-103.460581558, -3.5))
        make_face()
    extrude(amount=-BOSS_EXTRUDE6_DEPTH)

    # Fillet3
    fillet3_edges = [part.edges().sort_by_distance(p)[0] for p in [
        (119.460581558, 20, 10),
    ]]
    fillet(fillet3_edges, radius=FILLET3_R)


solid = part.part
